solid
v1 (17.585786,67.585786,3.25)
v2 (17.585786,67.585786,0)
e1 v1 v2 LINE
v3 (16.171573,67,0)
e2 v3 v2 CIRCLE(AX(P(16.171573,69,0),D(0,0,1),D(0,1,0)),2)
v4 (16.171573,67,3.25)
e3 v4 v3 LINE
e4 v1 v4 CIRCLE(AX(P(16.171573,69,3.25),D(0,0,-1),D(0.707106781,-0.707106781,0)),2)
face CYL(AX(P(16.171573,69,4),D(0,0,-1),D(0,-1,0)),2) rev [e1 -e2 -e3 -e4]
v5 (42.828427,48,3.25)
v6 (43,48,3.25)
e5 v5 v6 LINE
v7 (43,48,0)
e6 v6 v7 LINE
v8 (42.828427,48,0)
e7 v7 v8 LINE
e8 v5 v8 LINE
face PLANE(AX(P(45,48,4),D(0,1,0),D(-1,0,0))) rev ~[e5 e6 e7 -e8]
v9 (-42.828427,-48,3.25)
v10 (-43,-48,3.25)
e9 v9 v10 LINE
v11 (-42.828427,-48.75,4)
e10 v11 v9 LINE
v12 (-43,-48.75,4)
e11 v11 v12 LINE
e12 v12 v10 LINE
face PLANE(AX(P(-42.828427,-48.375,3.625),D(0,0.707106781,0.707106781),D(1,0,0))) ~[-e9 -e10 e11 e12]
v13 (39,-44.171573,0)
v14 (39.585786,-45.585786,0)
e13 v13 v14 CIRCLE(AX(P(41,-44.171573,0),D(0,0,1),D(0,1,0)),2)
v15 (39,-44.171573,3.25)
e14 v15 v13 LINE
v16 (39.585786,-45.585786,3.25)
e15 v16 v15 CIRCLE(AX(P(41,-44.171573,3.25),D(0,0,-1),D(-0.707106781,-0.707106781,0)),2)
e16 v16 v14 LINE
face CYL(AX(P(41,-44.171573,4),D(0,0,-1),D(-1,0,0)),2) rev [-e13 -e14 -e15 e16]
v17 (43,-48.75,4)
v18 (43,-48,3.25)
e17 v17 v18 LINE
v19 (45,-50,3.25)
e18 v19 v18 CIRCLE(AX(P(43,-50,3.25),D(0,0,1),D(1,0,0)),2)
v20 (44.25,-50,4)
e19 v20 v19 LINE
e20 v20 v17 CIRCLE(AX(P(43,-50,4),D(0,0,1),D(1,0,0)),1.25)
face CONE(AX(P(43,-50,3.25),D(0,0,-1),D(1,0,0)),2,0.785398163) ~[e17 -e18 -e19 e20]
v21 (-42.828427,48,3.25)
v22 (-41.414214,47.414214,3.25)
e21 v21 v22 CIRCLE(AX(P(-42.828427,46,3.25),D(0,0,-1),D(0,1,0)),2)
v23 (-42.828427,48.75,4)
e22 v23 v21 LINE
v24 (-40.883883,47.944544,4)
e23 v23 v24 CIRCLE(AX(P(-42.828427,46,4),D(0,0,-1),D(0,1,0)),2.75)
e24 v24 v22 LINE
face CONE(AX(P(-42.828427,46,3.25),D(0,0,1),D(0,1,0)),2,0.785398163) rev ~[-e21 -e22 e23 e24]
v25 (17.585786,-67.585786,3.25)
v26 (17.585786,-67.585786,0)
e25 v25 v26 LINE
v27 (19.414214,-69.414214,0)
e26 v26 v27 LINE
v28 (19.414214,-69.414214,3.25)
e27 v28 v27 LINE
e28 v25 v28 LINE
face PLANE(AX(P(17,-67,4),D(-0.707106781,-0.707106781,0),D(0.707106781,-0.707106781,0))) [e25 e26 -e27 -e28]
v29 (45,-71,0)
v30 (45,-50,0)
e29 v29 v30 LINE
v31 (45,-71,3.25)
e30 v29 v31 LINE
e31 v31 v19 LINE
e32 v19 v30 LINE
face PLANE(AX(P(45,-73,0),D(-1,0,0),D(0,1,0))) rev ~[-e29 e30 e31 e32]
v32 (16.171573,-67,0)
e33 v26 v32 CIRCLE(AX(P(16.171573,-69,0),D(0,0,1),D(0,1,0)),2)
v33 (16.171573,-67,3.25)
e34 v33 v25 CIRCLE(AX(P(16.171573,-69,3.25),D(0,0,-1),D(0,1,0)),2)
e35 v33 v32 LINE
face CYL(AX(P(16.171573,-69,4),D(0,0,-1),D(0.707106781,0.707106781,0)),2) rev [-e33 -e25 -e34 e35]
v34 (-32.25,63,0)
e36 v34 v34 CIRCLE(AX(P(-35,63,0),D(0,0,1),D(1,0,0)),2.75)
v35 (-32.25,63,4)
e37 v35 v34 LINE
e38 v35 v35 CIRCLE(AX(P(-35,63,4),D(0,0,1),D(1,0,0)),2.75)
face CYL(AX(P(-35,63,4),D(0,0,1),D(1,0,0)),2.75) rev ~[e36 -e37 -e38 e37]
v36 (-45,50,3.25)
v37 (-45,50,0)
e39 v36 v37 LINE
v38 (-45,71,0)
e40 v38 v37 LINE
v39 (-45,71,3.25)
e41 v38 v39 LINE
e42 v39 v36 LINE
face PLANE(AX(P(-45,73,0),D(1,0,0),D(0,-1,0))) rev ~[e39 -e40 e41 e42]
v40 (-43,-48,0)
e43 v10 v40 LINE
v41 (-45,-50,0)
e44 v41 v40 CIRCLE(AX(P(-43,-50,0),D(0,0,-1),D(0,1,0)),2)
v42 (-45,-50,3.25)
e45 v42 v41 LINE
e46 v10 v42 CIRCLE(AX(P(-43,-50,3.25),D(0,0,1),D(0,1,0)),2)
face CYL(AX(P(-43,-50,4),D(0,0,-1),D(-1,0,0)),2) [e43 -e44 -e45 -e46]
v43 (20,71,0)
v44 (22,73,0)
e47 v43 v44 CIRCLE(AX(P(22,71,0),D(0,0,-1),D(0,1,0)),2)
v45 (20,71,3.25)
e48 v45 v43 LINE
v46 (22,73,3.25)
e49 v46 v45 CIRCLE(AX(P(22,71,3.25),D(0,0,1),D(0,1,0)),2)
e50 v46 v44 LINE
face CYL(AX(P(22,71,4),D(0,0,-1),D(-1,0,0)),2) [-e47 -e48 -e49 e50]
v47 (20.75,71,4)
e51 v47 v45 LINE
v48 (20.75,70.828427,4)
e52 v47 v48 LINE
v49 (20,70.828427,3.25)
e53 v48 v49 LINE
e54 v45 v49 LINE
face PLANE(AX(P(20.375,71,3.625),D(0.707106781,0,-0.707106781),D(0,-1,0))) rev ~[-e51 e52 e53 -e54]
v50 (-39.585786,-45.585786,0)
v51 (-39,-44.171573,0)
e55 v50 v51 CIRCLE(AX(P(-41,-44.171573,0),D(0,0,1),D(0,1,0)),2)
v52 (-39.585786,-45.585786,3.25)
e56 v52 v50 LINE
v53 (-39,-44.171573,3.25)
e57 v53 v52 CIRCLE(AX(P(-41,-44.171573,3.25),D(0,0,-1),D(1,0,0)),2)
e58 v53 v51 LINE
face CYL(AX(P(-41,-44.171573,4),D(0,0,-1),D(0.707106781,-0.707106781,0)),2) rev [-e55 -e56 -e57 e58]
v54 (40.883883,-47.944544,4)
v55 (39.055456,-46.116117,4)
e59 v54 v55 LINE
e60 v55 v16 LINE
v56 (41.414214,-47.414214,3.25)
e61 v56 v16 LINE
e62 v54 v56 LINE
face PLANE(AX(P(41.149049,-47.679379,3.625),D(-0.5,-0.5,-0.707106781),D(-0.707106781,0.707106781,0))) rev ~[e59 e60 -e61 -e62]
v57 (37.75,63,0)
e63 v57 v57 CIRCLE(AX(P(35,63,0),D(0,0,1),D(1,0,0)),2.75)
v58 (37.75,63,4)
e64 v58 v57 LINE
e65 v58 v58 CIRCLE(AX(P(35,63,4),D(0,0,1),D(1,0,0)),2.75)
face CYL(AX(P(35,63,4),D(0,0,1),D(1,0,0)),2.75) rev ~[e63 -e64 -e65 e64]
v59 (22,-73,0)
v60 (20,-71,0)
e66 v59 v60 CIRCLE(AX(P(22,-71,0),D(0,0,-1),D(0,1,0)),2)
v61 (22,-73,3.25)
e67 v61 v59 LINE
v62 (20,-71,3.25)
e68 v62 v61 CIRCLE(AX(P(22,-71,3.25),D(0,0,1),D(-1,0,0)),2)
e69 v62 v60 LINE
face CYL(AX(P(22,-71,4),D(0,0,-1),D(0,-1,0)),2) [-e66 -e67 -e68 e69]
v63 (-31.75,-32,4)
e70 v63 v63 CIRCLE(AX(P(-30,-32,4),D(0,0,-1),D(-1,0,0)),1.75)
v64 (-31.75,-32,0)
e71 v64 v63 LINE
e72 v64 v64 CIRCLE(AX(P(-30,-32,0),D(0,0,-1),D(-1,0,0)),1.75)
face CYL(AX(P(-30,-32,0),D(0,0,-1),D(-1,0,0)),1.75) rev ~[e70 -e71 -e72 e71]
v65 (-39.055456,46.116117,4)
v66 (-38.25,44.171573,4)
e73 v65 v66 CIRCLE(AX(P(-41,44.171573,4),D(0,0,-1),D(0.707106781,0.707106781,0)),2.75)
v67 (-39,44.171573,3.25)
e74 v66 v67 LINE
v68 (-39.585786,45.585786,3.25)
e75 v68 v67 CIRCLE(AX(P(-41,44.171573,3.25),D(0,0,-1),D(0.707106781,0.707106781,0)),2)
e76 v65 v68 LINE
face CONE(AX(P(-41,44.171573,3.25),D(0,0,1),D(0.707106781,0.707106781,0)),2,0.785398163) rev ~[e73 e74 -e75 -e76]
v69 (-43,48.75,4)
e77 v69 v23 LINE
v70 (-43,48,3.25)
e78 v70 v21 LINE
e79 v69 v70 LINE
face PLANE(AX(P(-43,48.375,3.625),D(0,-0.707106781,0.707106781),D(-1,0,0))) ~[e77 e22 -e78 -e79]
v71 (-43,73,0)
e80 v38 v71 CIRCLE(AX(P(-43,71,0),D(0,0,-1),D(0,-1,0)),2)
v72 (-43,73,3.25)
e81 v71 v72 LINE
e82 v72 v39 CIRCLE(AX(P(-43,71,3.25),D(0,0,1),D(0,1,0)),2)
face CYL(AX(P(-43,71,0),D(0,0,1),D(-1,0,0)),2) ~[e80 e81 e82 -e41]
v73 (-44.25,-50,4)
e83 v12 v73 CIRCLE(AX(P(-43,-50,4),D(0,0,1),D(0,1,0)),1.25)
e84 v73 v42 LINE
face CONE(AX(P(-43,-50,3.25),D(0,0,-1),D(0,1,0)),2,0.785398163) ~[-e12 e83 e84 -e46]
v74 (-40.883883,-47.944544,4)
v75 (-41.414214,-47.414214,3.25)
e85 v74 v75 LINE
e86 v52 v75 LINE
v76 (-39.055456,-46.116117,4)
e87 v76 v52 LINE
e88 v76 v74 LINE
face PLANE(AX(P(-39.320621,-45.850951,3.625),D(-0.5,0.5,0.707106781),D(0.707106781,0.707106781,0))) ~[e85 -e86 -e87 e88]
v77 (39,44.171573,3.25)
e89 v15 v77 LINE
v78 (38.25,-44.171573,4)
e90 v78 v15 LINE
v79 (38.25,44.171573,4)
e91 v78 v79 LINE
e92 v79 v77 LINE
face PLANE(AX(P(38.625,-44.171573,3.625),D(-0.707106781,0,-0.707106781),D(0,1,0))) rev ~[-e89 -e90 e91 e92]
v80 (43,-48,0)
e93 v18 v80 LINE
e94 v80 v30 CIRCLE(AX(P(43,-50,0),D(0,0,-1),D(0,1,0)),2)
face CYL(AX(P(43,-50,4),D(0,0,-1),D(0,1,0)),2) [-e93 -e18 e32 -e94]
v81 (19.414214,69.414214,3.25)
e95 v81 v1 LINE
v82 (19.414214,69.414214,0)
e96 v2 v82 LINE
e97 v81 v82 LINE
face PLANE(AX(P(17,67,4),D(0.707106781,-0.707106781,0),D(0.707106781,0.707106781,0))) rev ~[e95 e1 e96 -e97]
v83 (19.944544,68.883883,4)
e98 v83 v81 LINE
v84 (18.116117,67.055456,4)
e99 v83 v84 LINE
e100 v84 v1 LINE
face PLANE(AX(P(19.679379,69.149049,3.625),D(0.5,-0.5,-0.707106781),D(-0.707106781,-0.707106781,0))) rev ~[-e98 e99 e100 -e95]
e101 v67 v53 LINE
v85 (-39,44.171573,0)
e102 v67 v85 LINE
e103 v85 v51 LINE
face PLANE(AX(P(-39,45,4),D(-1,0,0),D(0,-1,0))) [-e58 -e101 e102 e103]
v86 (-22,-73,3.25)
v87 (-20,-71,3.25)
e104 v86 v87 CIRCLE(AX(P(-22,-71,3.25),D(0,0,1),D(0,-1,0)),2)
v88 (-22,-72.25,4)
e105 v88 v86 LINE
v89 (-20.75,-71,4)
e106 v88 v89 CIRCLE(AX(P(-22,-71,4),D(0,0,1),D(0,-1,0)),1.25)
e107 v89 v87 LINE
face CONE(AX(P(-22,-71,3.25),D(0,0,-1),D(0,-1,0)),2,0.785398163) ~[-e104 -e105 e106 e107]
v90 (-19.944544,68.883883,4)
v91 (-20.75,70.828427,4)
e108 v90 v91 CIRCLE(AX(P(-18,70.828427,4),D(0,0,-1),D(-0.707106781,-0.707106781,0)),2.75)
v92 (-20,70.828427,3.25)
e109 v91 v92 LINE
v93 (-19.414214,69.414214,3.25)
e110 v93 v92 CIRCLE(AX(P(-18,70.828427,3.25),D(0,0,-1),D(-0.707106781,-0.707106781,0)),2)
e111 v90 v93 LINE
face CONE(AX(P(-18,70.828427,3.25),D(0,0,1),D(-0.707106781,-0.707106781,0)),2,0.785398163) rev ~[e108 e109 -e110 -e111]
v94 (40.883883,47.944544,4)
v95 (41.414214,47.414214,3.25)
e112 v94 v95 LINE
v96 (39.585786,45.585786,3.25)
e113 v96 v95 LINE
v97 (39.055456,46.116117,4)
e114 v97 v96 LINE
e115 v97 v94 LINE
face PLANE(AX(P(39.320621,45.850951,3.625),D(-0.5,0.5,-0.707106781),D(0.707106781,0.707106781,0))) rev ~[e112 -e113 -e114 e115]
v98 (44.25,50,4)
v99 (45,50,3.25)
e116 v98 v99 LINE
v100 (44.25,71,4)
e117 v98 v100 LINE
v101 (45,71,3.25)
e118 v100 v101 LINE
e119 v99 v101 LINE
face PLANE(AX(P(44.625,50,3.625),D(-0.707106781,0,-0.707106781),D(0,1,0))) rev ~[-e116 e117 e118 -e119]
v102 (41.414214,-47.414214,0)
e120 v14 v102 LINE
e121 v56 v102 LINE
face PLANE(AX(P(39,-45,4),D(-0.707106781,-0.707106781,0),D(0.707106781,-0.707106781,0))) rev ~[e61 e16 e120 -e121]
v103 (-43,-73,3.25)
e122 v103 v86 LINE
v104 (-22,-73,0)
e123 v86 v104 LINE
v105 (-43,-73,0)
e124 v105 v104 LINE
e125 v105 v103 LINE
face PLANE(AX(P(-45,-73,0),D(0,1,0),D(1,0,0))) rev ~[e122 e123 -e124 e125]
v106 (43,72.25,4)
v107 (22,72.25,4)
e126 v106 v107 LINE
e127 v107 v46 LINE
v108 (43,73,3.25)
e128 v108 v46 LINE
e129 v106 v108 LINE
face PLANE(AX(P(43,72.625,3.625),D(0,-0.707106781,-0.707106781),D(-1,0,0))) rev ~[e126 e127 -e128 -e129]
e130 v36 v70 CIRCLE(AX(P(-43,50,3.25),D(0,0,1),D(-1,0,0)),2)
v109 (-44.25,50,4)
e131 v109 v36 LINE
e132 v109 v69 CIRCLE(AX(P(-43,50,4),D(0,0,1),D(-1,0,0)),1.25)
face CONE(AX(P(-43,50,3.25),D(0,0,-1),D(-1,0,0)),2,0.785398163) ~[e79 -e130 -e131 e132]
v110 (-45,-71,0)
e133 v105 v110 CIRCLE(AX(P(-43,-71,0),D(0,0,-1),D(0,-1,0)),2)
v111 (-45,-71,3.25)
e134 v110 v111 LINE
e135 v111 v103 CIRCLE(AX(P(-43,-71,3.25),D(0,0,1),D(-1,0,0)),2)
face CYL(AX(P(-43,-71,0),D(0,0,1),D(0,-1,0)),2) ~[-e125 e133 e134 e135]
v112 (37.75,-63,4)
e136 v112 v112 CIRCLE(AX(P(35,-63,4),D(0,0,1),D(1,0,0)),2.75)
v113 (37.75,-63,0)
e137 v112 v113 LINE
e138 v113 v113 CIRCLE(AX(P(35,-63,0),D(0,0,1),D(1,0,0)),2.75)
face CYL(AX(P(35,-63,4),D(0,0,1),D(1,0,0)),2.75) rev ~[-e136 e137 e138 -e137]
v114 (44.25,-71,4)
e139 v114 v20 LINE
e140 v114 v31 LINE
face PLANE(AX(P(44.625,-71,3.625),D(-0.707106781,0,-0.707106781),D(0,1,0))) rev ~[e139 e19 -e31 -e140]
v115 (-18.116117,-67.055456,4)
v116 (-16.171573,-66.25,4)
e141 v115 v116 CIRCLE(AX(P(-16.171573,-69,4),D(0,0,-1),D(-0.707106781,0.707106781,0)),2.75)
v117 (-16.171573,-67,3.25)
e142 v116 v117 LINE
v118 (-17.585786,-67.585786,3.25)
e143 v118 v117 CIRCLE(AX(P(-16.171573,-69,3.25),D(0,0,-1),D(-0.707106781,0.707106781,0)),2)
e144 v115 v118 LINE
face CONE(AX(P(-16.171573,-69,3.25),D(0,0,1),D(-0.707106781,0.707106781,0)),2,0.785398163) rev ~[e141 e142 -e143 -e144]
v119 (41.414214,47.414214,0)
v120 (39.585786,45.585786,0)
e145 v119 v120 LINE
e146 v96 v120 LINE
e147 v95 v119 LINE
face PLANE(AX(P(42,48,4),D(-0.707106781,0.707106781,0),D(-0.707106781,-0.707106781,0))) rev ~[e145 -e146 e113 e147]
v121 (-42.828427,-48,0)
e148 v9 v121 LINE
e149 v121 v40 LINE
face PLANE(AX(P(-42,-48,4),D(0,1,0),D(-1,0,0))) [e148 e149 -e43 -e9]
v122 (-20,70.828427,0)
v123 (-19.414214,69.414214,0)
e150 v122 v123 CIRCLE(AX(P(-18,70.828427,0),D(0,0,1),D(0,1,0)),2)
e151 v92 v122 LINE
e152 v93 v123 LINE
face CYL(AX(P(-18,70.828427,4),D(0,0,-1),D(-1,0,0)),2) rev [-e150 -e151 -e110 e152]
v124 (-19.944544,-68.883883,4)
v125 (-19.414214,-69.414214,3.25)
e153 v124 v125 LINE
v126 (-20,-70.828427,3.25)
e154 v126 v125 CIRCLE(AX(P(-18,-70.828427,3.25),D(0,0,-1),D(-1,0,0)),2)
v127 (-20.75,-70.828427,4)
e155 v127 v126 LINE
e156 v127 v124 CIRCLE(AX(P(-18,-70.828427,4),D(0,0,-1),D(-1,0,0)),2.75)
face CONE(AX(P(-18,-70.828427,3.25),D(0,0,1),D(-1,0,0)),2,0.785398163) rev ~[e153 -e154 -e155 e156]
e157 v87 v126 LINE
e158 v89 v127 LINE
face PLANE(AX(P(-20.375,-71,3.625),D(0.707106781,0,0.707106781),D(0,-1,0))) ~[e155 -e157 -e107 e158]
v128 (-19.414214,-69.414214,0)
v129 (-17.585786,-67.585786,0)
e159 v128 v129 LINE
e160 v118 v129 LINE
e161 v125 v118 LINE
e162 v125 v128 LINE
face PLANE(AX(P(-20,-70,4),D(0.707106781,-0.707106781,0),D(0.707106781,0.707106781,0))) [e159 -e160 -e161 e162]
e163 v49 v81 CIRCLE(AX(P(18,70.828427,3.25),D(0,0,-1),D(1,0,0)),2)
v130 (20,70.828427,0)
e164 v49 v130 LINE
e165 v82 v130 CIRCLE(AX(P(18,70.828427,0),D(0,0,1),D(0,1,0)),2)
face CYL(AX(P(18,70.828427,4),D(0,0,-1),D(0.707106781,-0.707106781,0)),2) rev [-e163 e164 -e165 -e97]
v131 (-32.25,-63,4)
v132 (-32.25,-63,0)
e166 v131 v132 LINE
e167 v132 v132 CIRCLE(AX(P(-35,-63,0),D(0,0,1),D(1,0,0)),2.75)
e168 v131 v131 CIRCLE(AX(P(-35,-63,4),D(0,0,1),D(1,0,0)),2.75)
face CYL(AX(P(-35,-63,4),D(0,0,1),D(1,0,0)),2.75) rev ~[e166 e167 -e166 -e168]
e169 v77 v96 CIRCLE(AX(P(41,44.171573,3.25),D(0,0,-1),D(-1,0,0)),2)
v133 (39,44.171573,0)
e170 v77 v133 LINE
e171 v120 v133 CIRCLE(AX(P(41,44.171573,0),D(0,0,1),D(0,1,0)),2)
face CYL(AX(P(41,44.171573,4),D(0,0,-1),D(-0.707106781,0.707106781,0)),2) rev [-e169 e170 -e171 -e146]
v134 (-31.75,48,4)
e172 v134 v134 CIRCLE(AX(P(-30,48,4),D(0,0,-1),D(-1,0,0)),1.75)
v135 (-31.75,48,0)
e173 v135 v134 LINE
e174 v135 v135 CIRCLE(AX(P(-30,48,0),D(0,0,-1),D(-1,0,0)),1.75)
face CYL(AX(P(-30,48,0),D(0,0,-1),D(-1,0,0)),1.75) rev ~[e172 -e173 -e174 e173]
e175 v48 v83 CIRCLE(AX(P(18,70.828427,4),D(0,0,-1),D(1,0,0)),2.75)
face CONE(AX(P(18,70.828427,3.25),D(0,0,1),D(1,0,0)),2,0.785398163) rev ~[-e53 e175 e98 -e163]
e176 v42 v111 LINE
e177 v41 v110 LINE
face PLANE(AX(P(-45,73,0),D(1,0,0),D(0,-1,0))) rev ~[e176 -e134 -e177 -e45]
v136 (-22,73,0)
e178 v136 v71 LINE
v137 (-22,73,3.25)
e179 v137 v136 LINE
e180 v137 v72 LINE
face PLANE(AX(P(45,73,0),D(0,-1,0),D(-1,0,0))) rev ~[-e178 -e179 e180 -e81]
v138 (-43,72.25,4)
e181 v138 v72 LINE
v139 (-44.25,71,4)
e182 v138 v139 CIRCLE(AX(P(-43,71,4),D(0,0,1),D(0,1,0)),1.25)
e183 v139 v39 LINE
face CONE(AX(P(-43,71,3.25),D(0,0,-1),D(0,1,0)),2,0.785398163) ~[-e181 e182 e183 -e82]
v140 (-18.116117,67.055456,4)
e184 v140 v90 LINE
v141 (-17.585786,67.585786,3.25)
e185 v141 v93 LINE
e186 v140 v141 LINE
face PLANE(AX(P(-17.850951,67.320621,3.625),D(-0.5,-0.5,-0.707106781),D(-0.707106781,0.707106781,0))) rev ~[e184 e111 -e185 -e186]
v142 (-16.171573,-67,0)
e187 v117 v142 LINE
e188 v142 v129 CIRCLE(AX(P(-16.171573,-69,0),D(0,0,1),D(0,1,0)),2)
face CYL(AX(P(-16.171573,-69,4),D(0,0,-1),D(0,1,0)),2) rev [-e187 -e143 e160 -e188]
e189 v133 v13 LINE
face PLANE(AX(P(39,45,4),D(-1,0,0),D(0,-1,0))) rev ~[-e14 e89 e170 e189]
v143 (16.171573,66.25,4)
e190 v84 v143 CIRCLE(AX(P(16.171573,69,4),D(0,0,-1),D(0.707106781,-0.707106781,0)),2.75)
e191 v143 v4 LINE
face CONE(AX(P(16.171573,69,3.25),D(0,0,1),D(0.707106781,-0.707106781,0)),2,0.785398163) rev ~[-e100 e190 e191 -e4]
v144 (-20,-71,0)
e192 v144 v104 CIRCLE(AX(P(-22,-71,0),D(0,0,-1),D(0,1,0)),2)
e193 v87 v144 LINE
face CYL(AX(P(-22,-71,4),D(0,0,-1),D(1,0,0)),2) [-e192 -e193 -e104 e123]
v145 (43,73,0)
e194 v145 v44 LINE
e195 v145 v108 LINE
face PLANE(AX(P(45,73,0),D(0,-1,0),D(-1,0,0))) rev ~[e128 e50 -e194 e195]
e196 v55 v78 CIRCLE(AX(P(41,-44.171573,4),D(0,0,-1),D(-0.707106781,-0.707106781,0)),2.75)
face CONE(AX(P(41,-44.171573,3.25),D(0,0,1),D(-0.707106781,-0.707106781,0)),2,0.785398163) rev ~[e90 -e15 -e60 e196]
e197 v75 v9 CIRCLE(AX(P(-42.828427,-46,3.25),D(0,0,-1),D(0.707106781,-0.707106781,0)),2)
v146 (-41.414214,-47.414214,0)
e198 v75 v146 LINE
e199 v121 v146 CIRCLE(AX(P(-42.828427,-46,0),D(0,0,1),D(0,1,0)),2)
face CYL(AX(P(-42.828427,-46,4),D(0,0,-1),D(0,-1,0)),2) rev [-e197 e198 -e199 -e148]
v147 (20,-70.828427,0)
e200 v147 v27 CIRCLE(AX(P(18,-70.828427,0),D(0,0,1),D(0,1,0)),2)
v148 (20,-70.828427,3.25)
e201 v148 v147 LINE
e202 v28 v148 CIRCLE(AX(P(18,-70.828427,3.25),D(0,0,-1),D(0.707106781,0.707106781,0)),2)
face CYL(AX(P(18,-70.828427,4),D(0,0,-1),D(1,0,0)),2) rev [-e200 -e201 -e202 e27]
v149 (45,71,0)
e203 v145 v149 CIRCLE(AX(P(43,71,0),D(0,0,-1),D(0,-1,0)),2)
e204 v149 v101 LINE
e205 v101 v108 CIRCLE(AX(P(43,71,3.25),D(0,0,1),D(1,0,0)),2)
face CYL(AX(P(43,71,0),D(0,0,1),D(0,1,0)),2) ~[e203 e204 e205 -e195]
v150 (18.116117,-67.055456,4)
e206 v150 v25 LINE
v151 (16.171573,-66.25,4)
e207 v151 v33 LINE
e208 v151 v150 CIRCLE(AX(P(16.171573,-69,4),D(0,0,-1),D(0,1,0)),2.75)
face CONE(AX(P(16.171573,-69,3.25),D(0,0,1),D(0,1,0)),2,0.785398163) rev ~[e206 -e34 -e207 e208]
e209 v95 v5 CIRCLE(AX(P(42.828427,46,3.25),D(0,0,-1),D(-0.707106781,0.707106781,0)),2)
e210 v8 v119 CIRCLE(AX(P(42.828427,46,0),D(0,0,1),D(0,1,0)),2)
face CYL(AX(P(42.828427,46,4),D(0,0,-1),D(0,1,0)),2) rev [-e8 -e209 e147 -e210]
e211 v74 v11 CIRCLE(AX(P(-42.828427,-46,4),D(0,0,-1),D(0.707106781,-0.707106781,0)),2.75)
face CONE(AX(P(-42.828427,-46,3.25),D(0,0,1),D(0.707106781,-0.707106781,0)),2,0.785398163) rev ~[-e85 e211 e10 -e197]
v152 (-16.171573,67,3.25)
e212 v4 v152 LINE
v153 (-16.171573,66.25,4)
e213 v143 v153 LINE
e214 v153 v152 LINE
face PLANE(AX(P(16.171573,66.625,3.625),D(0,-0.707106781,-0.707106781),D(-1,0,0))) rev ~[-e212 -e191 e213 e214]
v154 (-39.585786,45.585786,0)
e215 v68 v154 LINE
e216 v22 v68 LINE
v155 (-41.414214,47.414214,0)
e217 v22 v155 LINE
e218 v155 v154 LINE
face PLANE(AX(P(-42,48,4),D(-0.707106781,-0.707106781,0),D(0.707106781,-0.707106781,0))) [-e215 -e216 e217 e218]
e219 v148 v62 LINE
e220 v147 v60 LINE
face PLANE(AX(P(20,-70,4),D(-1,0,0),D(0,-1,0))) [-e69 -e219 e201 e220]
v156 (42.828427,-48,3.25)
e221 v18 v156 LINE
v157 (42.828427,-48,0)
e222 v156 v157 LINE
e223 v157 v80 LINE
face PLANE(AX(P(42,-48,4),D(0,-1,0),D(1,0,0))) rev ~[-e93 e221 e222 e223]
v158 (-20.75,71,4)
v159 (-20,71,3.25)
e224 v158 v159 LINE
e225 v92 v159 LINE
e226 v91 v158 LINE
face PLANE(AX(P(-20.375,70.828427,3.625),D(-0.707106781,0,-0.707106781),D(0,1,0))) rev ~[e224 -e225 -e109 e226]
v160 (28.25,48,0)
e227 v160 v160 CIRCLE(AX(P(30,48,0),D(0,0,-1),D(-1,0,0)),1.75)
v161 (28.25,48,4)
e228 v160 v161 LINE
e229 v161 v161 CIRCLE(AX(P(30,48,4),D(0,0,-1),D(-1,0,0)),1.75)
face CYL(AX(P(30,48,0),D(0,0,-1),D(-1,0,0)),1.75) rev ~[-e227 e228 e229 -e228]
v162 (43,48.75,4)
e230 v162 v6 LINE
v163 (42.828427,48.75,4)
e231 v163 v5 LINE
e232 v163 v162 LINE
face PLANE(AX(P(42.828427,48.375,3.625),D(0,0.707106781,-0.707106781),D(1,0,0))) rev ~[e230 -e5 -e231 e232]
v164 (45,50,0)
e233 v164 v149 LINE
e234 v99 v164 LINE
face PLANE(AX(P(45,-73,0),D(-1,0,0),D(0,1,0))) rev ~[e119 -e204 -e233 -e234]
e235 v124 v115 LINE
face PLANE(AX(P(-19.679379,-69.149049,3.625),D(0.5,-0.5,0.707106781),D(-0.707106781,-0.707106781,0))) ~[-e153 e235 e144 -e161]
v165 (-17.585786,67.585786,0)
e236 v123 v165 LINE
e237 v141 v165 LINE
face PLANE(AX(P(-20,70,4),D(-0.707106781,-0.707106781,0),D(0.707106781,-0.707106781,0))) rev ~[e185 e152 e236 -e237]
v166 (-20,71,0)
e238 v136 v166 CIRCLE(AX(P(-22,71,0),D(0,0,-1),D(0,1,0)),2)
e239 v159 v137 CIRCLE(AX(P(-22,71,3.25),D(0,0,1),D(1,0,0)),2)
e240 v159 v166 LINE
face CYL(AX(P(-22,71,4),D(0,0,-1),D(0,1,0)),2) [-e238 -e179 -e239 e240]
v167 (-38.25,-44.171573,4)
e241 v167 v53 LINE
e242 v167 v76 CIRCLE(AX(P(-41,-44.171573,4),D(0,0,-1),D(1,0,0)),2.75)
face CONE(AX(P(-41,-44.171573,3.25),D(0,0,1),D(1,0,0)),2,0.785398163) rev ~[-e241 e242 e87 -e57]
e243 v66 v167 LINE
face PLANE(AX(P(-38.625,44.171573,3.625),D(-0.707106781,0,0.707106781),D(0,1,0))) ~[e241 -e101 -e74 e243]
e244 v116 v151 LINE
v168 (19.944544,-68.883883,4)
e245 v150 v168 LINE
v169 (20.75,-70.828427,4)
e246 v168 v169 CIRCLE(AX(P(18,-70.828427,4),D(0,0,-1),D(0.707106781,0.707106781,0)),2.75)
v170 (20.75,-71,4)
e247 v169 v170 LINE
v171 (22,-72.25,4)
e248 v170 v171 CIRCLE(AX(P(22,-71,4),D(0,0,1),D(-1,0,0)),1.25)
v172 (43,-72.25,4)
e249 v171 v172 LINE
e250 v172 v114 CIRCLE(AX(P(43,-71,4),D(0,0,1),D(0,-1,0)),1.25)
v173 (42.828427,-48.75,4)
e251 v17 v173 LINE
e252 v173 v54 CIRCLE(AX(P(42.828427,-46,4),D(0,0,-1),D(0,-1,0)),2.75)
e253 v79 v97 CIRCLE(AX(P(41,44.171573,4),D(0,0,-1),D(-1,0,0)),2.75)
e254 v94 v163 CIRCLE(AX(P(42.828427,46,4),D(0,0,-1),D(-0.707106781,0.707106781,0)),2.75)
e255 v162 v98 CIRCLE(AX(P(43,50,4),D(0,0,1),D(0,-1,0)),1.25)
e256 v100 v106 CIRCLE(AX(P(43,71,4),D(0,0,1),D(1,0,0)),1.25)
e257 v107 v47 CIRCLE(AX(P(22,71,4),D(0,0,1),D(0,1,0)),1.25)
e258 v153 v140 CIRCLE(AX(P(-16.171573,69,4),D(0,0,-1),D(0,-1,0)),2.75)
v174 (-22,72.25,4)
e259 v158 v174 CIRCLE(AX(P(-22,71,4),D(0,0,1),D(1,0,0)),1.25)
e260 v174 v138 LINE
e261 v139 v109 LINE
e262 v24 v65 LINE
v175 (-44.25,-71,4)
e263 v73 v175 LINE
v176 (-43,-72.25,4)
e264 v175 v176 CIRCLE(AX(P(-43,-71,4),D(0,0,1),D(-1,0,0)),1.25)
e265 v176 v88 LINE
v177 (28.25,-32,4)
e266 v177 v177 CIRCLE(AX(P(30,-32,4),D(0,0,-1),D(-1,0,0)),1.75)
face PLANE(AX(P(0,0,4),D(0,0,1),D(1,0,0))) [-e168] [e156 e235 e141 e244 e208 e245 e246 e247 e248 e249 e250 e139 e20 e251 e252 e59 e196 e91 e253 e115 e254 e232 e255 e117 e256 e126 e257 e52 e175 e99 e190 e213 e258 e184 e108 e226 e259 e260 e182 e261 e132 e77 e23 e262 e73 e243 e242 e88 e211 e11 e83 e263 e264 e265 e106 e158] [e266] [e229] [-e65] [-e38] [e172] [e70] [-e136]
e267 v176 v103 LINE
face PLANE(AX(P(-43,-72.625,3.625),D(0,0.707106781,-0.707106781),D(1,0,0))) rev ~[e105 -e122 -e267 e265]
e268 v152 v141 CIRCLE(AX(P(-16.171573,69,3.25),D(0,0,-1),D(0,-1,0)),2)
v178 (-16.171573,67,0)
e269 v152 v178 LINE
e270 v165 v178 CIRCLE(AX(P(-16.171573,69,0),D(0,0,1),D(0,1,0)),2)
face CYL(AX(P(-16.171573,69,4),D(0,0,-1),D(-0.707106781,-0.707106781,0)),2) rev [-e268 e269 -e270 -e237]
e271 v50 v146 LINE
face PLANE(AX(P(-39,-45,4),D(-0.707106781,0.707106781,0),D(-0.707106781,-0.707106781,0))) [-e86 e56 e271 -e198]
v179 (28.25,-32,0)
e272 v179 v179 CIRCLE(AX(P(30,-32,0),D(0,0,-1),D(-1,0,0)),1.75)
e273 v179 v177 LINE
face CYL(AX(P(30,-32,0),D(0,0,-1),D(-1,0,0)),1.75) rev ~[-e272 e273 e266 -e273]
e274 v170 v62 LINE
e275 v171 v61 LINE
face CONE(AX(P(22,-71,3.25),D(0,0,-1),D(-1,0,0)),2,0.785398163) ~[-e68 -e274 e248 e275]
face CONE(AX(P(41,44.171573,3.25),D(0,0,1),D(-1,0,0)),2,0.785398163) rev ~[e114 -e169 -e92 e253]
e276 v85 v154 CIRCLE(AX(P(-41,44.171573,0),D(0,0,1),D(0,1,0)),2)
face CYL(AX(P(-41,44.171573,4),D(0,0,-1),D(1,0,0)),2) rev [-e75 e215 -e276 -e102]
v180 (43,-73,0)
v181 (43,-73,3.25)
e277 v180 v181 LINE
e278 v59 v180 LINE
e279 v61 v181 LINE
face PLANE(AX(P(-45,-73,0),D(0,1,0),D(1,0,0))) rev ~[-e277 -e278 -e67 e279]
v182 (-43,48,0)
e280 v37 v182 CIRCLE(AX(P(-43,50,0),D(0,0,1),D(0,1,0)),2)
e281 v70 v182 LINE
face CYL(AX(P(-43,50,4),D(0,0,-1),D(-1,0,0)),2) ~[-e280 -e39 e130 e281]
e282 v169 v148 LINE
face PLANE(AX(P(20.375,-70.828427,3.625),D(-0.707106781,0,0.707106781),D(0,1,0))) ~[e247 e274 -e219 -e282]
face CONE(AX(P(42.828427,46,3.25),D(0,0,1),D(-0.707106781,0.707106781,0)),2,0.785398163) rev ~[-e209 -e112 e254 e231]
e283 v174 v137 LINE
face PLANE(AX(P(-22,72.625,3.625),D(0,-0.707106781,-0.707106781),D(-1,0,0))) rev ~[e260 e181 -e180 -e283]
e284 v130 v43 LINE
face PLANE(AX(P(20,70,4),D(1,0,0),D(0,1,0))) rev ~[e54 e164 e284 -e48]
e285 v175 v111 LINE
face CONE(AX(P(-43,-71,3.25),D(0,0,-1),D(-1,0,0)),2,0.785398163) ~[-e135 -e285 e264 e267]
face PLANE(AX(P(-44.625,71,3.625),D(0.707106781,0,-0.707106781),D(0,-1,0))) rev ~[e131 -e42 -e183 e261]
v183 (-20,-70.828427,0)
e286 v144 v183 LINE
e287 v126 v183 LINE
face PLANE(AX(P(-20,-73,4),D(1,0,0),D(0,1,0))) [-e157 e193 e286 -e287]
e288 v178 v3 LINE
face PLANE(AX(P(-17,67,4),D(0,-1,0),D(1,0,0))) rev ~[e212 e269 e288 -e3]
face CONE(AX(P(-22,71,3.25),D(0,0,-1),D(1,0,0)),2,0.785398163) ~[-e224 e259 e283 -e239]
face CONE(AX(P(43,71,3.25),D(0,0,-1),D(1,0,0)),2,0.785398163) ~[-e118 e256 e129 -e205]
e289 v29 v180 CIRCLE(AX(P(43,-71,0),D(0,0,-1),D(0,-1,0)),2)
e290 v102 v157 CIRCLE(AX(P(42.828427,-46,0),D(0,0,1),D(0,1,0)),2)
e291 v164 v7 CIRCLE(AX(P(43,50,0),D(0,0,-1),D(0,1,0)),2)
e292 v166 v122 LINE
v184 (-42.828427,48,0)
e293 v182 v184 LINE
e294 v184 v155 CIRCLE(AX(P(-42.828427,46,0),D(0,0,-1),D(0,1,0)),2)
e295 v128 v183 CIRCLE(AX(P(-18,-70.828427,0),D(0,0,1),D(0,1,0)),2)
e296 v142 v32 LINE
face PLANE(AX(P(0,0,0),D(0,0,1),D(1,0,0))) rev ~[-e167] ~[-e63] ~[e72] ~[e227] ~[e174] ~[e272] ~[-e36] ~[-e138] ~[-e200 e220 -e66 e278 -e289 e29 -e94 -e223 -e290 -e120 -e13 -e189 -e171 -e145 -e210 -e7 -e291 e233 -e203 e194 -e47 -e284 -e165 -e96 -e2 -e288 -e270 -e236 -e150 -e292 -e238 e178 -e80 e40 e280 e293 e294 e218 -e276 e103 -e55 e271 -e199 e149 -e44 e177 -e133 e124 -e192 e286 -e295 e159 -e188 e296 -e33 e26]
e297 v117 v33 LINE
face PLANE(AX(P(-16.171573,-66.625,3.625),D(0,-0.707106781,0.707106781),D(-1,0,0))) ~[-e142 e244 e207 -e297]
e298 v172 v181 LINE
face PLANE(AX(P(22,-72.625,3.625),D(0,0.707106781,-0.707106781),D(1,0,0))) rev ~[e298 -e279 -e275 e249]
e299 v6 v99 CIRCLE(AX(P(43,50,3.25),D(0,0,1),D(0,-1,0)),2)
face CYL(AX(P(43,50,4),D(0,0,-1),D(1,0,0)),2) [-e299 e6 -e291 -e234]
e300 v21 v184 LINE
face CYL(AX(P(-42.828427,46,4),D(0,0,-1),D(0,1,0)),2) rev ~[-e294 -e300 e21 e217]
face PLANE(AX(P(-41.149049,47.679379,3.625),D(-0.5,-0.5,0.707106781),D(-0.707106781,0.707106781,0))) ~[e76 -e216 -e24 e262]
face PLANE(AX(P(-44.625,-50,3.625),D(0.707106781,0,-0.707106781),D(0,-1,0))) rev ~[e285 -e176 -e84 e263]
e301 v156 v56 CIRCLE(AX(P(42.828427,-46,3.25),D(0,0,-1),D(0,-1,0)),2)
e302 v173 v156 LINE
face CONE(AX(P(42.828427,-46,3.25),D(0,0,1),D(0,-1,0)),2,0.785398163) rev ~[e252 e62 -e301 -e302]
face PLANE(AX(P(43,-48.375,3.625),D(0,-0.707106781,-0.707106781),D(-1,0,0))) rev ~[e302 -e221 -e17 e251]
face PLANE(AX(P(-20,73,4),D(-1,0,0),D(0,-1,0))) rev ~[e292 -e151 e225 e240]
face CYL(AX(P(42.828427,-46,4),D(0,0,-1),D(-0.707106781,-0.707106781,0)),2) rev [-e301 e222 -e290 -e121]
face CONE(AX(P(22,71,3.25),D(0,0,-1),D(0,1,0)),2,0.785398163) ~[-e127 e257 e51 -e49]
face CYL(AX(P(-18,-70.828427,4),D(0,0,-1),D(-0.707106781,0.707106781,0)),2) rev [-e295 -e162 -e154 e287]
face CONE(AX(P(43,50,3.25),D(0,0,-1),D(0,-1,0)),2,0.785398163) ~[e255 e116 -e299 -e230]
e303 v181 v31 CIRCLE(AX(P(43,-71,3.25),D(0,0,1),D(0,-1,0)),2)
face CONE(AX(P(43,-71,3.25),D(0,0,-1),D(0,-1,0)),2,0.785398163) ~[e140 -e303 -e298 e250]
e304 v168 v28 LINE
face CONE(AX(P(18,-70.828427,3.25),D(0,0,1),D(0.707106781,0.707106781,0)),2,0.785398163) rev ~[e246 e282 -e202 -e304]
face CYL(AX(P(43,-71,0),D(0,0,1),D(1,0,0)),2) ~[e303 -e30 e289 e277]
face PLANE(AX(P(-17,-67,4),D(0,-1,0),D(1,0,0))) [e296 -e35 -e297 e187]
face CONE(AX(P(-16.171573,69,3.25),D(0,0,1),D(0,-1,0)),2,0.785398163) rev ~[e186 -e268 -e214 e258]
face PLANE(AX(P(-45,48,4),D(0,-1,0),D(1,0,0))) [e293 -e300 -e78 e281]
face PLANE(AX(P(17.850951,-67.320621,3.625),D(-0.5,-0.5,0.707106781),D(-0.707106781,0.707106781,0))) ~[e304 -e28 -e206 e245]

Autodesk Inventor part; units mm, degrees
ref_plane "YZ Plane" through (0, 0, 0) normal (1, 0, 0) x (0, 1, 0)
ref_plane "XZ Plane" through (0, 0, 0) normal (0, 1, 0) x (-1, 0, 0)
ref_plane "XY Plane" through (0, 0, 0) normal (0, 0, 1) x (1, 0, 0)
sketch "Sketch1" plane through (0, 0, 0) normal (0, 0, 1) x (1, 0, 0)
  line L0 (-45, -73) -> (45, -73)
  line L1 (45, -73) -> (45, 73)
  line L2 (45, 73) -> (-45, 73)
  line L3 (-45, 73) -> (-45, -73)
  line L4 (-45, -73) -> (45, 73) construction
  line L5 (45, -73) -> (-45, 73) construction
  point P0 (0, 0)
  dimension "d0" = 90
  dimension "d1" = 146
extrude "Extrusion1" add sketch "Sketch1" along normal blind 4
sketch "Sketch2" plane through (0, 0, 4) normal (0, 0, 1) x (1, 0, 0)
  circle A0 centre (-35, -63) radius 2.75
  line L0 (-45, -73) -> (45, -73) projected
  line L1 (-45, 73) -> (-45, -73) projected
  line L2 (-77.5799, 0) -> (77.5799, 0) projected
  line L3 (0, 102.7799) -> (0, -102.7799) projected
  circle A1 centre (-35, 63) radius 2.75
  circle A2 centre (35, -63) radius 2.75
  circle A3 centre (35, 63) radius 2.75
  point P0 (0, 0)
  dimension "d4" = 5.5
  dimension "d5" = 10
  dimension "d6" = 10
extrude "Extrusion2" cut sketch "Sketch2" against normal up to surface (4 mm away) contours A0 | A1 | A2 | A3
sketch "Sketch3" plane through (0, 0, 0) normal (0, 0, -1) x (-1, 0, 0)
  circle A0 centre (-30, -32) radius 1.75
  circle A1 centre (-30, 48) radius 1.75
  circle A2 centre (30, -32) radius 1.75
  circle A3 centre (30, 48) radius 1.75
  line L0 (0, -102.7799) -> (0, 102.7799) projected
  line L1 (-45, 73) -> (45, 73) projected
  point P0 (0, 0)
  dimension "d9" = 3.5
  dimension "d10" = 3.5
  dimension "d11" = 3.5
  dimension "d12" = 3.5
  dimension "d13" = 80
  dimension "d15" = 80
  dimension "d16" = 30
  dimension "d17" = 30
  dimension "d18" = 30
  dimension "d19" = 30
  dimension "d20" = 25
  dimension "d21" = 25
extrude "Extrusion3" cut sketch "Sketch3" against normal up to surface (4 mm away)
sketch "Sketch4" plane through (0, 0, 4) normal (0, 0, 1) x (1, 0, 0)
  line L0 (-45, 73) -> (-45, -73) construction
  line L1 (-45, 48) -> (-42, 48)
  line L2 (-42, 48) -> (-39, 45)
  line L3 (-39, 45) -> (-39, -45)
  line L4 (-39, -45) -> (-42, -48)
  line L5 (-42, -48) -> (-45, -48)
  line L6 (-45, -48) -> (-45, 48)
  line L7 (-45, -73) -> (45, -73) construction
  line L8 (45, 73) -> (-45, 73) construction
  line L9 (-20, -73) -> (-20, -70)
  line L10 (-20, -70) -> (-17, -67)
  line L11 (-17, -67) -> (17, -67)
  line L12 (17, -67) -> (20, -70)
  line L13 (20, -70) -> (20, -73)
  line L14 (45, -73) -> (45, 73) projected
  line L15 (0, -102.7799) -> (0, 102.7799) construction
  line L16 (-77.5799, 0) -> (77.5799, 0) construction
  line L17 (45, 73) -> (45, -73) construction
  line L18 (45, 48) -> (42, 48)
  line L19 (42, 48) -> (39, 45)
  line L20 (39, 45) -> (39, -45)
  line L21 (39, -45) -> (42, -48)
  line L22 (42, -48) -> (45, -48)
  line L23 (45, -48) -> (45, 48)
  line L24 (-20, -73) -> (20, -73)
  line L25 (-20, 73) -> (-20, 70)
  line L26 (-20, 70) -> (-17, 67)
  line L27 (-17, 67) -> (17, 67)
  line L28 (17, 67) -> (20, 70)
  line L29 (20, 70) -> (20, 73)
  line L30 (-20, 73) -> (20, 73)
  point P0 (0, 0)
  dimension "d24" = 25
  dimension "d25" = 6
  dimension "d26" = 135
  dimension "d27" = 25
  dimension "d28" = 135
  dimension "d29" = 3
  dimension "d30" = 3
  dimension "d31" = 6
  dimension "d32" = 3
  dimension "d33" = 3
  dimension "d34" = 135
  dimension "d35" = 25
  dimension "d36" = 25
extrude "Extrusion4" cut sketch "Sketch4" against normal up to surface (4 mm away)
fillet "Fillet1" radius 2 28 edges at (-45, 73, 2) (-20, 73, 2) (-45, 48, 2) (-39, 45, 2) (-42, 48, 2) (-39, -45, 2) (-42, -48, 2) (-45, -48, 2) (-45, -73, 2) (-20, -73, 2) (-20, -70, 2) (-17, -67, 2) (17, -67, 2) (20, -70, 2) (20, -73, 2) (45, -73, 2) (39, -45, 2) (42, -48, 2) (45, -48, 2) (39, 45, 2) (42, 48, 2) (45, 48, 2) (45, 73, 2) (20, 73, 2) (20, 70, 2) (17, 67, 2) (-17, 67, 2) (-20, 70, 2)
sketch "Sketch5" plane through (0, 0, 4) normal (0, 0, 1) x (1, 0, 0)
  circle A0 centre (-30, -32) radius 1.75 projected
  circle A1 centre (-30, 48) radius 1.75 projected
  circle A2 centre (30, 48) radius 1.75 projected
  circle A3 centre (30, -32) radius 1.75 projected
  circle A4 centre (35, -63) radius 2.75 projected
  circle A5 centre (35, 63) radius 2.75 projected
  circle A6 centre (-35, 63) radius 2.75 projected
  circle A7 centre (-35, -63) radius 2.75 projected
  arc A8 (22, 73) -> (20, 71) centre (22, 71) ccw projected
  line L0 (20, 71) -> (20, 70.8284) projected
  arc A9 (19.4142, 69.4142) -> (20, 70.8284) centre (18, 70.8284) ccw projected
  line L1 (19.4142, 69.4142) -> (17.5858, 67.5858) projected
  arc A10 (16.1716, 67) -> (17.5858, 67.5858) centre (16.1716, 69) ccw projected
  line L2 (16.1716, 67) -> (-16.1716, 67) projected
  arc A11 (-17.5858, 67.5858) -> (-16.1716, 67) centre (-16.1716, 69) ccw projected
  line L3 (-17.5858, 67.5858) -> (-19.4142, 69.4142) projected
  arc A12 (-20, 70.8284) -> (-19.4142, 69.4142) centre (-18, 70.8284) ccw projected
  line L4 (-20, 70.8284) -> (-20, 71) projected
  arc A13 (-20, 71) -> (-22, 73) centre (-22, 71) ccw projected
  line L5 (-22, 73) -> (-43, 73) projected
  arc A14 (-43, 73) -> (-45, 71) centre (-43, 71) ccw projected
  line L6 (-45, 71) -> (-45, 50) projected
  arc A15 (-45, 50) -> (-43, 48) centre (-43, 50) ccw projected
  line L7 (-43, 48) -> (-42.8284, 48) projected
  arc A16 (-41.4142, 47.4142) -> (-42.8284, 48) centre (-42.8284, 46) ccw projected
  line L8 (-41.4142, 47.4142) -> (-39.5858, 45.5858) projected
  arc A17 (-39, 44.1716) -> (-39.5858, 45.5858) centre (-41, 44.1716) ccw projected
  line L9 (-39, 44.1716) -> (-39, -44.1716) projected
  arc A18 (-39.5858, -45.5858) -> (-39, -44.1716) centre (-41, -44.1716) ccw projected
  line L10 (-39.5858, -45.5858) -> (-41.4142, -47.4142) projected
  arc A19 (-42.8284, -48) -> (-41.4142, -47.4142) centre (-42.8284, -46) ccw projected
  line L11 (-42.8284, -48) -> (-43, -48) projected
  arc A20 (-43, -48) -> (-45, -50) centre (-43, -50) ccw projected
  line L12 (-45, -50) -> (-45, -71) projected
  arc A21 (-45, -71) -> (-43, -73) centre (-43, -71) ccw projected
  line L13 (-43, -73) -> (-22, -73) projected
  arc A22 (-22, -73) -> (-20, -71) centre (-22, -71) ccw projected
  line L14 (-20, -71) -> (-20, -70.8284) projected
  arc A23 (-19.4142, -69.4142) -> (-20, -70.8284) centre (-18, -70.8284) ccw projected
  line L15 (-19.4142, -69.4142) -> (-17.5858, -67.5858) projected
  arc A24 (-16.1716, -67) -> (-17.5858, -67.5858) centre (-16.1716, -69) ccw projected
  line L16 (-16.1716, -67) -> (16.1716, -67) projected
  arc A25 (17.5858, -67.5858) -> (16.1716, -67) centre (16.1716, -69) ccw projected
  line L17 (17.5858, -67.5858) -> (19.4142, -69.4142) projected
  arc A26 (20, -70.8284) -> (19.4142, -69.4142) centre (18, -70.8284) ccw projected
  line L18 (20, -70.8284) -> (20, -71) projected
  arc A27 (20, -71) -> (22, -73) centre (22, -71) ccw projected
  line L19 (22, -73) -> (43, -73) projected
  arc A28 (43, -73) -> (45, -71) centre (43, -71) ccw projected
  line L20 (45, -71) -> (45, -50) projected
  arc A29 (45, -50) -> (43, -48) centre (43, -50) ccw projected
  line L21 (43, -48) -> (42.8284, -48) projected
  arc A30 (41.4142, -47.4142) -> (42.8284, -48) centre (42.8284, -46) ccw projected
  line L22 (41.4142, -47.4142) -> (39.5858, -45.5858) projected
  arc A31 (39, -44.1716) -> (39.5858, -45.5858) centre (41, -44.1716) ccw projected
  line L23 (39, -44.1716) -> (39, 44.1716) projected
  arc A32 (39.5858, 45.5858) -> (39, 44.1716) centre (41, 44.1716) ccw projected
  line L24 (39.5858, 45.5858) -> (41.4142, 47.4142) projected
  arc A33 (42.8284, 48) -> (41.4142, 47.4142) centre (42.8284, 46) ccw projected
  line L25 (42.8284, 48) -> (43, 48) projected
  arc A34 (43, 48) -> (45, 50) centre (43, 50) ccw projected
  line L26 (45, 50) -> (45, 71) projected
  arc A35 (45, 71) -> (43, 73) centre (43, 71) ccw projected
  line L27 (43, 73) -> (22, 73) projected
  point P0 (0, 0)
chamfer "Chamfer1" distance 0.75 angle 45 56 edges at (0, -67, 4) (16.9369, -67.1522, 4) (18.5, -68.5, 4) (19.8478, -70.0631, 4) (20, -70.9142, 4) (20.5858, -72.4142, 4) (32.5, -73, 4) (44.4142, -72.4142, 4) (45, -60.5, 4) (44.4142, -48.5858, 4) (42.9142, -48, 4) (42.0631, -47.8478, 4) (40.5, -46.5, 4) (39.1522, -44.9369, 4) (39, 0, 4) (39.1522, 44.9369, 4) (40.5, 46.5, 4) (42.0631, 47.8478, 4) (42.9142, 48, 4) (44.4142, 48.5858, 4) (45, 60.5, 4) (44.4142, 72.4142, 4) (32.5, 73, 4) (20.5858, 72.4142, 4) (20, 70.9142, 4) (19.8478, 70.0631, 4) (18.5, 68.5, 4) (16.9369, 67.1522, 4) (0, 67, 4) (-16.9369, 67.1522, 4) (-18.5, 68.5, 4) (-19.8478, 70.0631, 4) (-20, 70.9142, 4) (-20.5858, 72.4142, 4) (-32.5, 73, 4) (-44.4142, 72.4142, 4) (-45, 60.5, 4) (-44.4142, 48.5858, 4) (-42.9142, 48, 4) (-42.0631, 47.8478, 4) (-40.5, 46.5, 4) (-39.1522, 44.9369, 4) (-39, 0, 4) (-39.1522, -44.9369, 4) (-40.5, -46.5, 4) (-42.0631, -47.8478, 4) (-42.9142, -48, 4) (-44.4142, -48.5858, 4) (-45, -60.5, 4) (-44.4142, -72.4142, 4) (-32.5, -73, 4) (-20.5858, -72.4142, 4) (-20, -70.9142, 4) (-19.8478, -70.0631, 4) (-18.5, -68.5, 4) (-16.9369, -67.1522, 4)
equation "\"d10\" = d9"
equation "\"d11\" = d9"
equation "\"d12\" = d9"
equation "\"d15\" = d13"
equation "\"d17\" = d16"
equation "\"d18\" = d16"
equation "\"d19\" = d16"
equation "\"d21\" = d20"
equation "\"d27\" = d24"
equation "\"d30\" = d29"
equation "\"d36\" = d35"
properties part number "EllipseFix"
